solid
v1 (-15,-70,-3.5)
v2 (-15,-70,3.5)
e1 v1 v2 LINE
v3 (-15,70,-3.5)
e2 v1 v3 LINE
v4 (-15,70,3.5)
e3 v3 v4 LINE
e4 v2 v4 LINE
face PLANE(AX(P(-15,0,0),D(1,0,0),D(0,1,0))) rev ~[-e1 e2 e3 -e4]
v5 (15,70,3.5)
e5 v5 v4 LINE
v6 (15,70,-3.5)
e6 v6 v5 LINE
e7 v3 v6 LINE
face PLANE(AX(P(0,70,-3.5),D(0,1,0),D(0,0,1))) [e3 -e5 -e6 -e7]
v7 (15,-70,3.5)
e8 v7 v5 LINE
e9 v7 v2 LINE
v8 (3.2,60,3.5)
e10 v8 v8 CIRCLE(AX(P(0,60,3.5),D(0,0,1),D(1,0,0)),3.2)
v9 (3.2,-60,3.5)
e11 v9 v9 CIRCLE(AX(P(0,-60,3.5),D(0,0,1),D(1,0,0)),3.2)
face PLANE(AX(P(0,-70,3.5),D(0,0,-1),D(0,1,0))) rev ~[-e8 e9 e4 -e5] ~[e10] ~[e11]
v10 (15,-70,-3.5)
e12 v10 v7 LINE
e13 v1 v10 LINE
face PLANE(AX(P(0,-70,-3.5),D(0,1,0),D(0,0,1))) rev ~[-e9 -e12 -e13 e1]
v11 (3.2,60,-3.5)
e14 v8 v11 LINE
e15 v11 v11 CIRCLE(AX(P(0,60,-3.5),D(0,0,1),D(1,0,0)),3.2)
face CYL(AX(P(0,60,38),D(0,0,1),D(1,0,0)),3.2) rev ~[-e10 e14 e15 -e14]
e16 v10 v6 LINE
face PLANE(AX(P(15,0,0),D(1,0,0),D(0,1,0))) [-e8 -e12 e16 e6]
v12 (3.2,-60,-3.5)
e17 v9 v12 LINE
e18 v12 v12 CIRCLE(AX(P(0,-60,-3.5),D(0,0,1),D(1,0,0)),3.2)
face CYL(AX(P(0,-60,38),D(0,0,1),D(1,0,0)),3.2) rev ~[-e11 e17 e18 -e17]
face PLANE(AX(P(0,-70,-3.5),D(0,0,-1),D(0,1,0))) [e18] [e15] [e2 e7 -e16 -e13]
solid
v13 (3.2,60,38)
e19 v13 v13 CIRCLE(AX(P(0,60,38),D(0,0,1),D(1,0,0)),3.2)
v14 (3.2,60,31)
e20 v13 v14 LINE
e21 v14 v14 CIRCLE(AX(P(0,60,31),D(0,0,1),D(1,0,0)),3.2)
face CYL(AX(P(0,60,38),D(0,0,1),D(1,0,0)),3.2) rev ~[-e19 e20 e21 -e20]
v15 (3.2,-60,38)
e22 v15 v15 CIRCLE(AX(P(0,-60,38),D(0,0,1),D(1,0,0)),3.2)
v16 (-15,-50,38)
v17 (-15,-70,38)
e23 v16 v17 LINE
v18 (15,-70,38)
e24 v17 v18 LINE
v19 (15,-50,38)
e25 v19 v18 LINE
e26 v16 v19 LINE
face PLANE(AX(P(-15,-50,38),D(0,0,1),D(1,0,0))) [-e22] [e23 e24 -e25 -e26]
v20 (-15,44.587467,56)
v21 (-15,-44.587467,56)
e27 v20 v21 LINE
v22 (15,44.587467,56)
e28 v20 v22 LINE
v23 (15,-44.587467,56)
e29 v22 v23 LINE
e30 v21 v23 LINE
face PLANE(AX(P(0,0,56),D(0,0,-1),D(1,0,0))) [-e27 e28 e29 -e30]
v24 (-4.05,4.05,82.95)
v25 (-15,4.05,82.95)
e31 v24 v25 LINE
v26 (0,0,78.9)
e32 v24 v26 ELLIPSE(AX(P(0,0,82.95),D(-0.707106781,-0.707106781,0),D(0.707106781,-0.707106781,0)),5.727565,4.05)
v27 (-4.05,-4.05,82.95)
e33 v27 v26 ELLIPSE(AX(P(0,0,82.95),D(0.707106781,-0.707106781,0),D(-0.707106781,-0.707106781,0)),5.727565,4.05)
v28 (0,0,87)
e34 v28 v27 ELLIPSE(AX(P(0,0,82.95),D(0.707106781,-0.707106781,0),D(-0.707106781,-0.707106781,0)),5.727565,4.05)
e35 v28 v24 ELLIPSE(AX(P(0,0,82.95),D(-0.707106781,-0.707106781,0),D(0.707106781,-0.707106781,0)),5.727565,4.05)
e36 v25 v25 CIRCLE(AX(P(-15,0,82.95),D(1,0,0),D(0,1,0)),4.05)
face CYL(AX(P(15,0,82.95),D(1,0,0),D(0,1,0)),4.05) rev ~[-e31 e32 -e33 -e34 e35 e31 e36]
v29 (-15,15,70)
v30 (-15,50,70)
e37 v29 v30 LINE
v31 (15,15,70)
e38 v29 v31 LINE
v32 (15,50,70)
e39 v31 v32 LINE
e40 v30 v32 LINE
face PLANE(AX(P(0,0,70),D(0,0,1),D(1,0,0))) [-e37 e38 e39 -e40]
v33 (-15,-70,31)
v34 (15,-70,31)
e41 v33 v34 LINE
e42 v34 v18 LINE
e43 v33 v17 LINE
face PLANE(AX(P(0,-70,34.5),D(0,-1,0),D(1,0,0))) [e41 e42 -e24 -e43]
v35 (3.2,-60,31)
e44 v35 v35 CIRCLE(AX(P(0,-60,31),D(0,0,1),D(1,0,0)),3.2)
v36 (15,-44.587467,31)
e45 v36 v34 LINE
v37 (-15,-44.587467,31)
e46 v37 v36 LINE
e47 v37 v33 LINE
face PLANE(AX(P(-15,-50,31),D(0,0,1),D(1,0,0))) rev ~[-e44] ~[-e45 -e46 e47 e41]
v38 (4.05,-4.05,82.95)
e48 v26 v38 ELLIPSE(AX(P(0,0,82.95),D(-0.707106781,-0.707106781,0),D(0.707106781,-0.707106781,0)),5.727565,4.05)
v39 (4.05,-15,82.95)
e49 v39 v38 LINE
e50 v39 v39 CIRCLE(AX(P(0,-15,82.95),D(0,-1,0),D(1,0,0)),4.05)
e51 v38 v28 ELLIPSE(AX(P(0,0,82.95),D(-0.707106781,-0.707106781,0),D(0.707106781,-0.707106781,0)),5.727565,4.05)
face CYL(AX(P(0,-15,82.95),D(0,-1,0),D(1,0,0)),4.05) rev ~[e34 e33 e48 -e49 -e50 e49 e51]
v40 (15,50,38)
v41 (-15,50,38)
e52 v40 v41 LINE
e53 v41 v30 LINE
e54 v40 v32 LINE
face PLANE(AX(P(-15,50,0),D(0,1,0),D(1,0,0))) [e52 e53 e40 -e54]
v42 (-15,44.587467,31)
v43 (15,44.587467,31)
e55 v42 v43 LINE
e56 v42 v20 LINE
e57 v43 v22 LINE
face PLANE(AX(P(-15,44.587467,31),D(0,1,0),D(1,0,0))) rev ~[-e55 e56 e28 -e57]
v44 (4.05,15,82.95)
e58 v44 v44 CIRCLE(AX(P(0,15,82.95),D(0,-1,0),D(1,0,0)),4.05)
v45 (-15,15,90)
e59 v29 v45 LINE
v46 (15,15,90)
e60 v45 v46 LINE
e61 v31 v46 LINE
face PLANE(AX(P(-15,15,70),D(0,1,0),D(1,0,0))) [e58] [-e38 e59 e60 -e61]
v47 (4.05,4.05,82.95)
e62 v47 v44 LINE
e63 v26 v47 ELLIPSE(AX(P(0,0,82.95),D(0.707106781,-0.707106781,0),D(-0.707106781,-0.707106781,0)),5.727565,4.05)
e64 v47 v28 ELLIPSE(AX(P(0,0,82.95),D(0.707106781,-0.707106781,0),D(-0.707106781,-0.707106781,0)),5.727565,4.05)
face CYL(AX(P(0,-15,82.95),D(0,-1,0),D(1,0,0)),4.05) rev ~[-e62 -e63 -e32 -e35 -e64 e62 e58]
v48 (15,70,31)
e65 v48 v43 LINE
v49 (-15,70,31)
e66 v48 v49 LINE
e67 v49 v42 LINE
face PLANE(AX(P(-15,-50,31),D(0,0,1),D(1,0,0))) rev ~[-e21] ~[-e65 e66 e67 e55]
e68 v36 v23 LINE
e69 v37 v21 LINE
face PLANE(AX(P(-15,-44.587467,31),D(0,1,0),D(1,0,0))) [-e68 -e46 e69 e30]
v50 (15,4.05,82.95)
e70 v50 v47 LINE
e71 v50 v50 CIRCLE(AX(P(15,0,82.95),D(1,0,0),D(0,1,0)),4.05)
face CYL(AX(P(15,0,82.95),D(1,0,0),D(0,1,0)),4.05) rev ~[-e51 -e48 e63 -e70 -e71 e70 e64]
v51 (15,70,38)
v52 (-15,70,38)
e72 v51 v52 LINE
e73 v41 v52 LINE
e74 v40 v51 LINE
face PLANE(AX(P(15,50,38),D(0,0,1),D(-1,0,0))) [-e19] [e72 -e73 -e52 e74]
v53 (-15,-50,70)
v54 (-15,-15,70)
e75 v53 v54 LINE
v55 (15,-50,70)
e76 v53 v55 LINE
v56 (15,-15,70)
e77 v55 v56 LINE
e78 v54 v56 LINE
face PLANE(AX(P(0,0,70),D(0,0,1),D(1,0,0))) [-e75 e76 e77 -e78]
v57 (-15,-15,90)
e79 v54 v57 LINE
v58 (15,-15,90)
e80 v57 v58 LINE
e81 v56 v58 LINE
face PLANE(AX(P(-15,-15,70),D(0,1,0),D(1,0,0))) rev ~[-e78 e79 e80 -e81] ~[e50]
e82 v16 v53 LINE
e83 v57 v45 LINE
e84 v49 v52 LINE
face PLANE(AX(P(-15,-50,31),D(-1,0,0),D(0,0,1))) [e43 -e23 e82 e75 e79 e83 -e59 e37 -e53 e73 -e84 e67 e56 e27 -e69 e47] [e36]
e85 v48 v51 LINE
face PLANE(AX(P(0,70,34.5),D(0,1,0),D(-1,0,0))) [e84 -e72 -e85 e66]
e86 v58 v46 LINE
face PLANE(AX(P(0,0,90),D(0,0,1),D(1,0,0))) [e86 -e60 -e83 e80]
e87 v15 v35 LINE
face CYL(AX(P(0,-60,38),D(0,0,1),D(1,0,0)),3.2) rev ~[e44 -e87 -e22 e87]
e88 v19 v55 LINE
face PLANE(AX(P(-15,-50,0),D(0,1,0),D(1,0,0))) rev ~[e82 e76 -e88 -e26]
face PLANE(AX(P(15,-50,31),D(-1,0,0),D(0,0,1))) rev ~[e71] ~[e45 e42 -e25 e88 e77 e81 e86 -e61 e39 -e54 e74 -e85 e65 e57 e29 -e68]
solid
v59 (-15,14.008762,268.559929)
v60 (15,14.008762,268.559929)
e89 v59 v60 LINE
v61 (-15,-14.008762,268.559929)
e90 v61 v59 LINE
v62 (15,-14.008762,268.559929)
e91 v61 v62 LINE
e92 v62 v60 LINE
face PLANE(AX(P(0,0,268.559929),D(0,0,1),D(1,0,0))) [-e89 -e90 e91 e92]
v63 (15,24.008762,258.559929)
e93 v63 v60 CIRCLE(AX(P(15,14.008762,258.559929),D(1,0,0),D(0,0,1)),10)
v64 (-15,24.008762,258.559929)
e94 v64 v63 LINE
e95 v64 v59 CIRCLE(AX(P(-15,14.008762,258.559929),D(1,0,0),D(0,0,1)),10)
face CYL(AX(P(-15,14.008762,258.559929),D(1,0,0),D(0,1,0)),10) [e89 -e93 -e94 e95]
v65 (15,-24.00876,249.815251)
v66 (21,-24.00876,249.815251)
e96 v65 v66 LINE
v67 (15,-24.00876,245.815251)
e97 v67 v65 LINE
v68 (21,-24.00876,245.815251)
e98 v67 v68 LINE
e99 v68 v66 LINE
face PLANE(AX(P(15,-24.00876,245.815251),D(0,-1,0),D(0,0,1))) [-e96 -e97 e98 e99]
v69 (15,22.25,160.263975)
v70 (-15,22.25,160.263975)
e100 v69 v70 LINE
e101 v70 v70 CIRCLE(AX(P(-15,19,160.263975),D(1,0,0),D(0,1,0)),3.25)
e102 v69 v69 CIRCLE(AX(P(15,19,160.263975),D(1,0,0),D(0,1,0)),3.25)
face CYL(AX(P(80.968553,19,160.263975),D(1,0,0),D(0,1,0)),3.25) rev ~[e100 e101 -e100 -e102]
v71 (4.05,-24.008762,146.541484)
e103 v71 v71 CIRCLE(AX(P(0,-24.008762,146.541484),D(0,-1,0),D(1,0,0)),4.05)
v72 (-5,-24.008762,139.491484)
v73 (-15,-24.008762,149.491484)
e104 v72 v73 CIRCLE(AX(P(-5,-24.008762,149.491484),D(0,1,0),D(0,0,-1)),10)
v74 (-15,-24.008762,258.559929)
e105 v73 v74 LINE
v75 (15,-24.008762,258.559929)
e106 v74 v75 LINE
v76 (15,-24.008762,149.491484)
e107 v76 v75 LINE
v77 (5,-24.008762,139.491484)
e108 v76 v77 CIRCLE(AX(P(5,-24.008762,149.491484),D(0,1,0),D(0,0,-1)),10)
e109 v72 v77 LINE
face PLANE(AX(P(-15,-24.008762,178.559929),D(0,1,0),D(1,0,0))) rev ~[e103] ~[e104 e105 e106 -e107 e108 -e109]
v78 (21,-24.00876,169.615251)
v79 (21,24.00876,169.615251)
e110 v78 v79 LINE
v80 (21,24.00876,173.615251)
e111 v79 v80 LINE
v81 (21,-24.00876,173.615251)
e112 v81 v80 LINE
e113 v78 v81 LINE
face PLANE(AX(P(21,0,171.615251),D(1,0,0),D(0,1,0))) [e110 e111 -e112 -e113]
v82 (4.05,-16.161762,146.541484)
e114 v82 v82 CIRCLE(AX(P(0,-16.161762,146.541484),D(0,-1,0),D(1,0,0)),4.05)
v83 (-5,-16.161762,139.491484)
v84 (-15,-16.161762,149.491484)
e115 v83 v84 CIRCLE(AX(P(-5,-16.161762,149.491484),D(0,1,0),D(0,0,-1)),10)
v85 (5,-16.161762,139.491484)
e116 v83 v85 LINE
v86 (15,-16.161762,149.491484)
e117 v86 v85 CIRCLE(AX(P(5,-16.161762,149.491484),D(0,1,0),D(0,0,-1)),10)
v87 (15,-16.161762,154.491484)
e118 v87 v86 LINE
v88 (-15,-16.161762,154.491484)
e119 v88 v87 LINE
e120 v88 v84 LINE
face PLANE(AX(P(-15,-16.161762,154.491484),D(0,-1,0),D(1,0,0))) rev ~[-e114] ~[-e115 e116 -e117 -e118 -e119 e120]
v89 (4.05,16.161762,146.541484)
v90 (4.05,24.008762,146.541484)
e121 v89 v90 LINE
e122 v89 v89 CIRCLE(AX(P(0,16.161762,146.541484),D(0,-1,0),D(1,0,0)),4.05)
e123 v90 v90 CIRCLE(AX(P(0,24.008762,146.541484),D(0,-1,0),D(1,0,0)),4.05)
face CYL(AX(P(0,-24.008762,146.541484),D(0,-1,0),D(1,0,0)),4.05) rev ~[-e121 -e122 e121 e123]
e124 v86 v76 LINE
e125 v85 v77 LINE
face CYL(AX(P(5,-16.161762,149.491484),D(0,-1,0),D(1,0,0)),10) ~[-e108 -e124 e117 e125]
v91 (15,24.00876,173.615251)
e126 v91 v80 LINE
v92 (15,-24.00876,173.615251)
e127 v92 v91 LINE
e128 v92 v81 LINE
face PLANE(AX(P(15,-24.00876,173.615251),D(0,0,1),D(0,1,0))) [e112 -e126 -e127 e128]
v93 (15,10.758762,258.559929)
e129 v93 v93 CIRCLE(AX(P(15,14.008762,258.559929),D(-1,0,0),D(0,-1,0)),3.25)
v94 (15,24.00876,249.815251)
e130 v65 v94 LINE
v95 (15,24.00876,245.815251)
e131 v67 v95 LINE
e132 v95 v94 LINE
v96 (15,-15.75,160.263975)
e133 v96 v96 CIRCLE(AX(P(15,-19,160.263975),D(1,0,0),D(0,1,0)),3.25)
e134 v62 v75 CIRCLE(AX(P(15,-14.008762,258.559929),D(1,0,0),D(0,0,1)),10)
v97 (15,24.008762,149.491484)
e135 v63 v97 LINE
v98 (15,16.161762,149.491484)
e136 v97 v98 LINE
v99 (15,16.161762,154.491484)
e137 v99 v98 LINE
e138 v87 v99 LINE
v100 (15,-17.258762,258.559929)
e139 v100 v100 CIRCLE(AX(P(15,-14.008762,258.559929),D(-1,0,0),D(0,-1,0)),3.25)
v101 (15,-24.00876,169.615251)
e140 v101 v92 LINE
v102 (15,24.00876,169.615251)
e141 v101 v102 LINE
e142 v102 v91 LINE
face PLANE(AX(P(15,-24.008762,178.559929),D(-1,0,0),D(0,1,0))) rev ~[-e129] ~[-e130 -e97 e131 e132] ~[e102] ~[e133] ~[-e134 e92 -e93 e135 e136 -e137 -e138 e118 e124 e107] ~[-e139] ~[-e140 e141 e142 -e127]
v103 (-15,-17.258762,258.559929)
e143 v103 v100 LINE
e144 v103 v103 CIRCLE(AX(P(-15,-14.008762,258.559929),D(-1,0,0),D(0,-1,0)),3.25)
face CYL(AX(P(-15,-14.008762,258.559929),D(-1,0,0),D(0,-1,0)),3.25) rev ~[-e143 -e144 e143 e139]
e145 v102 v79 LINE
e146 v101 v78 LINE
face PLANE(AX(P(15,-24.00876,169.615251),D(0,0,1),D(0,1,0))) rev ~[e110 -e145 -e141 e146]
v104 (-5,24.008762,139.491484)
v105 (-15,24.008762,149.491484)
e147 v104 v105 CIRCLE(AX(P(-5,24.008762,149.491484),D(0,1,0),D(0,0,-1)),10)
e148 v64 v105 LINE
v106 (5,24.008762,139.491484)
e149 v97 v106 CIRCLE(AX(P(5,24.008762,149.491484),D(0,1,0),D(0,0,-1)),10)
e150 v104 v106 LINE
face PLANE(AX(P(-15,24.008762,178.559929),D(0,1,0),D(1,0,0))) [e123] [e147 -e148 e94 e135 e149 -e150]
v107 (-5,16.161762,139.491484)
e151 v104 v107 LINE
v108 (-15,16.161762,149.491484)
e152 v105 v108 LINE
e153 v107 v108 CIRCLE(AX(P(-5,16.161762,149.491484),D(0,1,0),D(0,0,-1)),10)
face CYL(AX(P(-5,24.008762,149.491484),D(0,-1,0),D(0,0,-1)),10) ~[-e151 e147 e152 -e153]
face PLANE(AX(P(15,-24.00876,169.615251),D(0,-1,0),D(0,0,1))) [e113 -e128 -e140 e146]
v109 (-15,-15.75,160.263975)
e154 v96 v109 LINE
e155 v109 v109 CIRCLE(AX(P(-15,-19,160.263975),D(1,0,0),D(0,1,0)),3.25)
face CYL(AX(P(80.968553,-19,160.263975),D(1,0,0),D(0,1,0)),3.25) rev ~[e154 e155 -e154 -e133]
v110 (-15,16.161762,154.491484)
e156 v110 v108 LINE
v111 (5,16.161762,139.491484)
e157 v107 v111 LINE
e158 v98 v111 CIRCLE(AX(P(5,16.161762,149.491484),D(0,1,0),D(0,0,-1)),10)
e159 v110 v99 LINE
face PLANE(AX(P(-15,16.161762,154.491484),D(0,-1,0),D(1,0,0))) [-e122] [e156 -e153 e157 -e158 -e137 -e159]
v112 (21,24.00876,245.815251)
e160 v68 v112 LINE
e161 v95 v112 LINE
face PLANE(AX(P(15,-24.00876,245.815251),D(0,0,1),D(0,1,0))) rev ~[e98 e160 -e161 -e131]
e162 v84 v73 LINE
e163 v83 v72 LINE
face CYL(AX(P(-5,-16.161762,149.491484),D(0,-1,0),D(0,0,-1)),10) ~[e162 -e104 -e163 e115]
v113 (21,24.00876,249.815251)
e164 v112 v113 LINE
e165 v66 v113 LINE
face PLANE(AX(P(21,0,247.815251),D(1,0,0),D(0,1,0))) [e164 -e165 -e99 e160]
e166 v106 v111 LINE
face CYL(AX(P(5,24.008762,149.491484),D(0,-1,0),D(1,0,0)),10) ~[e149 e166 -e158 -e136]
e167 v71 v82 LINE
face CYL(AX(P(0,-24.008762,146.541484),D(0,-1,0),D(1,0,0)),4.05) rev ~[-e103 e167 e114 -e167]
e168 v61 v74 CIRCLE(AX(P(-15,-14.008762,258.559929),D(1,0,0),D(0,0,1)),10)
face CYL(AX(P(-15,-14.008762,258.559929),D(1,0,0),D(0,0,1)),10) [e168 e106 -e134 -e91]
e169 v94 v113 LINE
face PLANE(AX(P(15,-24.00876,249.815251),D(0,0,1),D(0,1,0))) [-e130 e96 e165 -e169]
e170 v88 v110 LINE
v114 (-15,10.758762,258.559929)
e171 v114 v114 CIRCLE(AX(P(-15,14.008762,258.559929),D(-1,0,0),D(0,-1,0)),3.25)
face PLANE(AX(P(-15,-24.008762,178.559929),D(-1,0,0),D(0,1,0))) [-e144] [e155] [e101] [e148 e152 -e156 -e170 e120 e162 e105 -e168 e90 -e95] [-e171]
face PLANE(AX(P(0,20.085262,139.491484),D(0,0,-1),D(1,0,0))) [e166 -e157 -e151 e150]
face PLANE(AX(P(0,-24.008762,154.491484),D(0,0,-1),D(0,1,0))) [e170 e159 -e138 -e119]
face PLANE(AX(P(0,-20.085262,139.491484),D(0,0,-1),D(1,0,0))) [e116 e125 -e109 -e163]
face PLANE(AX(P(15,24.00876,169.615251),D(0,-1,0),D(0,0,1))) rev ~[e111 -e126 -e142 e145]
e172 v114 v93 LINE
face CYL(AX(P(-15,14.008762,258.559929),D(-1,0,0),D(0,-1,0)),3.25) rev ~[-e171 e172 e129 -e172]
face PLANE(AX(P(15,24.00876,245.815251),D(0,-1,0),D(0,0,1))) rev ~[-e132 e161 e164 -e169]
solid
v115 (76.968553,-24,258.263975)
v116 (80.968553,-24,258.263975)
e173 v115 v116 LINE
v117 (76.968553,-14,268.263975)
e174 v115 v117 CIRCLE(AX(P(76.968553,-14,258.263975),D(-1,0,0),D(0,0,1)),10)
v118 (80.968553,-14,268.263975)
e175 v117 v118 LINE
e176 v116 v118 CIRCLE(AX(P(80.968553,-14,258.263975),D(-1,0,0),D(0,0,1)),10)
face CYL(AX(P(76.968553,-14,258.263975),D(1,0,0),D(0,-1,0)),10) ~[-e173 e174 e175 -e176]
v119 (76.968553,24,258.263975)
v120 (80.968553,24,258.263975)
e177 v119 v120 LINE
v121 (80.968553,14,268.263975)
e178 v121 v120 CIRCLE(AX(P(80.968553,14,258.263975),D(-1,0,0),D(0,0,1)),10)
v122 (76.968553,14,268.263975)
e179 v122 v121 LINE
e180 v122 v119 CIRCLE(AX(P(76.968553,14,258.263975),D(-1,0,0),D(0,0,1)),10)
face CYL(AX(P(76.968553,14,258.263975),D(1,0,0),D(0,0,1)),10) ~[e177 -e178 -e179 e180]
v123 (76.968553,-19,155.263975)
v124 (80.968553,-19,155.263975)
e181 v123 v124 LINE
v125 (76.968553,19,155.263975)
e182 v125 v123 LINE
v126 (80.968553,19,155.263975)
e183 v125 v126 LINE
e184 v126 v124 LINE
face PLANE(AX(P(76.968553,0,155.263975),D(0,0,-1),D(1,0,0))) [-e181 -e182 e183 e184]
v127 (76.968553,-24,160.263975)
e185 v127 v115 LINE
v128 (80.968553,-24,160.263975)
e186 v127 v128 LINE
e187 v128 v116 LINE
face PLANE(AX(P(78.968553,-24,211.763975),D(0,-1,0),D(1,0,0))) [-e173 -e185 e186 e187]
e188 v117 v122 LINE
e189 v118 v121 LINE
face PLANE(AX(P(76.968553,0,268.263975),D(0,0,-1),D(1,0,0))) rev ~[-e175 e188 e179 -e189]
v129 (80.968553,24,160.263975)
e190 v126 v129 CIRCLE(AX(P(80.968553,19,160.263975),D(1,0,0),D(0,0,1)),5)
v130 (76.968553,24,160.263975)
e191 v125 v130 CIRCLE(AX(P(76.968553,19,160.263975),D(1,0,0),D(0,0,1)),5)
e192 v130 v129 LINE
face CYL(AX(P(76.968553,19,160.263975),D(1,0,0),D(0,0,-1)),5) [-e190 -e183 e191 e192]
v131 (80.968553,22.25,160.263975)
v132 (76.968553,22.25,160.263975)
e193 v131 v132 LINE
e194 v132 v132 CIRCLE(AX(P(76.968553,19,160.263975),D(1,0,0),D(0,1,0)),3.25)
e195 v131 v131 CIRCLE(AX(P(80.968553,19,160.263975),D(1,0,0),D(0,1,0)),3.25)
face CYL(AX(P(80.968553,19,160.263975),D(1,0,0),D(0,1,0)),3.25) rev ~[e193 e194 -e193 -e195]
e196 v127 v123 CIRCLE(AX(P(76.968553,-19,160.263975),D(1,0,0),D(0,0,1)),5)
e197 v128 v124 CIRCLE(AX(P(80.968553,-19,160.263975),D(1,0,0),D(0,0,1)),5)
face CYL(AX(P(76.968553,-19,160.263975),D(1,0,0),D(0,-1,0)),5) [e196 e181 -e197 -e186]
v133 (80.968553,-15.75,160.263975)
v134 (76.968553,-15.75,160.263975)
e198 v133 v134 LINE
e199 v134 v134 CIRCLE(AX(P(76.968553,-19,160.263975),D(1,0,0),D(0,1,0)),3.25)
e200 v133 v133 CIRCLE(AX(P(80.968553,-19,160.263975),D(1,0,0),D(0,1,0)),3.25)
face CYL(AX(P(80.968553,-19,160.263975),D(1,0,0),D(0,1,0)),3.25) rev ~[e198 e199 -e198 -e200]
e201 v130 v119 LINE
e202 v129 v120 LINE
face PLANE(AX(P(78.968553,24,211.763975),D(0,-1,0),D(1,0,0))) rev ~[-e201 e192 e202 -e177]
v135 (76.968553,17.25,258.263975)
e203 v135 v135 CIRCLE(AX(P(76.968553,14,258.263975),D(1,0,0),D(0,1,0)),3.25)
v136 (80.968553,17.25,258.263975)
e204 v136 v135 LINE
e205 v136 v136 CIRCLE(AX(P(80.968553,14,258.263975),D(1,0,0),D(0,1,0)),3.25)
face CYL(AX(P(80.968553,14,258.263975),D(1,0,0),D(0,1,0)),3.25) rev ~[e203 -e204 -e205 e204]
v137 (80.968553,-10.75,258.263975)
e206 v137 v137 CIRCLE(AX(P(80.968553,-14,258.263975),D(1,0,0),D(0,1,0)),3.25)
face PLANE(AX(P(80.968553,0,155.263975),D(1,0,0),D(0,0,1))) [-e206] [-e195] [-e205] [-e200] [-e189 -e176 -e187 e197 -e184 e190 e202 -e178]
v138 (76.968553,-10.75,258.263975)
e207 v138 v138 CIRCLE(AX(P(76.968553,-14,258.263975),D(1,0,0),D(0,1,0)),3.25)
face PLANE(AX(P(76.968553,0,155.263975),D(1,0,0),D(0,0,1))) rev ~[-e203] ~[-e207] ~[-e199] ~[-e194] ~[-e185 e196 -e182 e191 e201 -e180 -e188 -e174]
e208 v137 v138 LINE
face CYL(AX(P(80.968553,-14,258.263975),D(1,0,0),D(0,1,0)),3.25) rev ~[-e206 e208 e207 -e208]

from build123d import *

# Parameters (mm, degrees)
F0_W      = 30
F0_H      = 100
F1_DEPTH  = 70
F2_W      = 30
F2_H      = 30
F3_DEPTH  = 20
F4_W      = 48.0175241828
F4_H      = 24.0684449673
F5_DEPTH  = 15
F6_W      = 30
F6_H      = 7.847
F7_DEPTH  = 15
F8_W      = 30
F8_H      = 7.847
F9_DEPTH  = 15
F10_R     = 10
F11_R     = 10
F12_R     = 10
F13_R     = 10
F14_R     = 4.05
F15_DEPTH = 31.5
F16_R     = 4.05
F17_DEPTH = 49.5
F18_W     = 30
F18_H     = 48.0175241828
F19_DEPTH = 90
F20_R     = 10
F21_R     = 10
F22_W     = 48.01752
F22_H     = 4
F23_DEPTH = 6
F24_W     = 4
F24_H     = 113
F25_DEPTH = 24
F26_R     = 10
F27_R     = 10
F28_R     = 3.25
F29_DEPTH = 95.9695533643
F30_R     = 5
F31_R     = 5
F32_R     = 3.25
F33_DEPTH = 34.6
F34_R     = 3.25
F35_DEPTH = 25
F36_R     = 3.25
F37_DEPTH = 108.8
F38_R     = 3.25
F39_DEPTH = 95.9695533643
F40_W     = 30
F40_H     = 100
F41_DEPTH = 31
F42_W     = 30
F42_H     = 7
F43_DEPTH = 20
F44_W     = 30
F44_H     = 7
F45_DEPTH = 20
F48_W     = 140
F48_H     = 7
F49_DEPTH = 15
F47_R     = 3.2
F50_DEPTH = 55.5
F46_R     = 3.2
F51_DEPTH = 61.8
F52_W     = 30
F52_H     = 89.1749337316
F53_DEPTH = 25
F54_R     = 4.05
F55_DEPTH = 32.4


with BuildPart() as f1:
    # F0 (on Top) → F1 (new body)
    with BuildSketch(Plane.XY):
        Rectangle(F0_W, F0_H)
    extrude(amount=F1_DEPTH)

    # F2 (on face) → F3 (join)
    with BuildSketch(Plane.XY.offset(70)):
        Rectangle(F2_W, F2_H)
    extrude(amount=F3_DEPTH)

    # F14 (on face) → F15 (cut)
    with BuildSketch(Plane.XZ.offset(15)):
        with Locations((0, 82.95)):
            Circle(F14_R)
    extrude(amount=-F15_DEPTH, mode=Mode.SUBTRACT)

    # F40 (on face) → F41 (cut)
    with BuildSketch(Plane(origin=(0, 0, 0), x_dir=(1, 0, 0), z_dir=(0, 0, -1))):
        Rectangle(F40_W, F40_H)
    extrude(amount=-F41_DEPTH, mode=Mode.SUBTRACT)

    # F42 (on face) → F43 (join)
    with BuildSketch(Plane(origin=(0, 50, 0), x_dir=(-1, 0, 0), z_dir=(0, 1, 0))):
        with Locations((0, 34.5)):
            Rectangle(F42_W, F42_H)
    extrude(amount=F43_DEPTH)

    # F44 (on face) → F45 (join)
    with BuildSketch(Plane.XZ.offset(50)):
        with Locations((0, 34.5)):
            Rectangle(F44_W, F44_H)
    extrude(amount=F45_DEPTH)


with BuildPart() as f5:
    # F4 (on Right) → F5 (new body, symmetric)
    with BuildSketch(Plane.YZ):
        with Locations((0, 166.5257066488)):
            Rectangle(F4_W, F4_H)
    extrude(amount=F5_DEPTH, both=True)

    # F6 (on face) → F7 (join)
    with BuildSketch(Plane(origin=(0, 0, 154.4914841652), x_dir=(1, 0, 0), z_dir=(0, 0, -1))):
        with Locations((0, -20.0852620914)):
            Rectangle(F6_W, F6_H)
    extrude(amount=F7_DEPTH)

    # F8 (on face) → F9 (join)
    with BuildSketch(Plane(origin=(0, 0, 154.4914841652), x_dir=(1, 0, 0), z_dir=(0, 0, -1))):
        with Locations((0, 20.0852620914)):
            Rectangle(F8_W, F8_H)
    extrude(amount=F9_DEPTH)

    # F10
    f10_edges = [f5.edges().sort_by_distance(p)[0] for p in [
        (15, -20.085262, 139.491484),
    ]]
    fillet(f10_edges, radius=F10_R)

    # F11
    f11_edges = [f5.edges().sort_by_distance(p)[0] for p in [
        (-15, -20.085262, 139.491484),
    ]]
    fillet(f11_edges, radius=F11_R)

    # F12
    f12_edges = [f5.edges().sort_by_distance(p)[0] for p in [
        (15, 20.085262, 139.491484),
    ]]
    fillet(f12_edges, radius=F12_R)

    # F13
    f13_edges = [f5.edges().sort_by_distance(p)[0] for p in [
        (-15, 20.085262, 139.491484),
    ]]
    fillet(f13_edges, radius=F13_R)

    # F16 (on face) → F17 (cut)
    with BuildSketch(Plane.XZ.offset(24.0087620914)):
        with Locations((0, 146.5414841652)):
            Circle(F16_R)
    extrude(amount=-F17_DEPTH, mode=Mode.SUBTRACT)

    # F18 (on face) → F19 (join)
    with BuildSketch(Plane.XY.offset(178.5599291325)):
        Rectangle(F18_W, F18_H)
    extrude(amount=F19_DEPTH)

    # F20
    f20_edges = [f5.edges().sort_by_distance(p)[0] for p in [
        (0, 24.008762, 268.559929),
    ]]
    fillet(f20_edges, radius=F20_R)

    # F21
    f21_edges = [f5.edges().sort_by_distance(p)[0] for p in [
        (0, -24.008762, 268.559929),
    ]]
    fillet(f21_edges, radius=F21_R)

    # F22 (on face) → F23 (join)
    with BuildSketch(Plane.YZ.offset(15)):
        with Locations((0, 247.8152513504)):
            Rectangle(F22_W, F22_H)
        with Locations((0, 171.6152513504)):
            Rectangle(F22_W, F22_H)
    extrude(amount=F23_DEPTH)

    # F32 (on face) → F33 (cut)
    with BuildSketch(Plane(origin=(-15, 0, 0), x_dir=(0, -1, 0), z_dir=(-1, 0, 0))):
        with Locations((-14.0087620914, 258.5599291325)):
            Circle(F32_R)
        with Locations((14.0087620914, 258.5599291325)):
            Circle(F32_R)
    extrude(amount=-F33_DEPTH, mode=Mode.SUBTRACT)


with BuildPart() as f25:
    # F24 (on Front) → F25 (new body, symmetric)
    with BuildSketch(Plane.XZ):
        with Locations((78.9685533643, 211.7639752626)):
            Rectangle(F24_W, F24_H)
    extrude(amount=F25_DEPTH, both=True)

    # F26
    f26_edges = [f25.edges().sort_by_distance(p)[0] for p in [
        (78.968553, -24, 268.263975),
    ]]
    fillet(f26_edges, radius=F26_R)

    # F27
    f27_edges = [f25.edges().sort_by_distance(p)[0] for p in [
        (78.968553, 24, 268.263975),
    ]]
    fillet(f27_edges, radius=F27_R)

    # F28 (on face) → F29 (cut, through all)
    with BuildSketch(Plane.YZ.offset(80.9685533643)):
        with Locations((-14, 258.2639752626)):
            Circle(F28_R)
    extrude(amount=-F29_DEPTH, mode=Mode.SUBTRACT)

    # F30
    f30_edges = [f25.edges().sort_by_distance(p)[0] for p in [
        (78.968553, -24, 155.263975),
    ]]
    fillet(f30_edges, radius=F30_R)

    # F31
    f31_edges = [f25.edges().sort_by_distance(p)[0] for p in [
        (78.968553, 24, 155.263975),
    ]]
    fillet(f31_edges, radius=F31_R)

    # F34 (on face) → F35 (cut)
    with BuildSketch(Plane.YZ.offset(80.9685533643)):
        with Locations((14, 258.2639752626)):
            Circle(F34_R)
    extrude(amount=-F35_DEPTH, mode=Mode.SUBTRACT)


with BuildPart() as f37_tool:
    # F36 (on face) → F37 (new body)
    with BuildSketch(Plane.YZ.offset(80.9685533643)):
        with Locations((-19, 160.2639752626)):
            Circle(F36_R)
    extrude(amount=-F37_DEPTH)


with BuildPart() as f5_1:
    add(f5.part)

    # F37: cut by f37_tool
    add(f37_tool.part, mode=Mode.SUBTRACT)


with BuildPart() as f25_1:
    add(f25.part)

    # F37: cut by f37_tool
    add(f37_tool.part, mode=Mode.SUBTRACT)


with BuildPart() as f39_tool:
    # F38 (on face) → F39 (new body, through all)
    with BuildSketch(Plane.YZ.offset(80.9685533643)):
        with Locations((19, 160.2639752626)):
            Circle(F38_R)
    extrude(amount=-F39_DEPTH)


with BuildPart() as f5_2:
    add(f5_1.part)

    # F39: cut by f39_tool
    add(f39_tool.part, mode=Mode.SUBTRACT)


with BuildPart() as f25_2:
    add(f25_1.part)

    # F39: cut by f39_tool
    add(f39_tool.part, mode=Mode.SUBTRACT)


with BuildPart() as f49:
    # F48 (on Right) → F49 (new body, symmetric)
    with BuildSketch(Plane.YZ):
        Rectangle(F48_W, F48_H)
    extrude(amount=F49_DEPTH, both=True)


with BuildPart() as f50_tool:
    # F47 (on face) → F50 (new body)
    with BuildSketch(Plane.XY.offset(38)):
        with Locations((0, -60)):
            Circle(F47_R)
    extrude(amount=-F50_DEPTH)


with BuildPart() as f1_1:
    add(f1.part)

    # F50: cut by f50_tool
    add(f50_tool.part, mode=Mode.SUBTRACT)


with BuildPart() as f49_1:
    add(f49.part)

    # F50: cut by f50_tool
    add(f50_tool.part, mode=Mode.SUBTRACT)


with BuildPart() as f51_tool:
    # F46 (on face) → F51 (new body)
    with BuildSketch(Plane.XY.offset(38)):
        with Locations((0, 60)):
            Circle(F46_R)
    extrude(amount=-F51_DEPTH)


with BuildPart() as f1_2:
    add(f1_1.part)

    # F51: cut by f51_tool
    add(f51_tool.part, mode=Mode.SUBTRACT)

    # F52 (on face) → F53 (cut)
    with BuildSketch(Plane(origin=(0, 0, 31), x_dir=(1, 0, 0), z_dir=(0, 0, -1))):
        Rectangle(F52_W, F52_H)
    extrude(amount=-F53_DEPTH, mode=Mode.SUBTRACT)

    # F54 (on face) → F55 (cut)
    with BuildSketch(Plane.YZ.offset(15)):
        with Locations((0, 82.95)):
            Circle(F54_R)
    extrude(amount=-F55_DEPTH, mode=Mode.SUBTRACT)


with BuildPart() as f49_2:
    add(f49_1.part)

    # F51: cut by f51_tool
    add(f51_tool.part, mode=Mode.SUBTRACT)


solid = Compound([f5_2.part, f25_2.part, f1_2.part, f49_2.part])
